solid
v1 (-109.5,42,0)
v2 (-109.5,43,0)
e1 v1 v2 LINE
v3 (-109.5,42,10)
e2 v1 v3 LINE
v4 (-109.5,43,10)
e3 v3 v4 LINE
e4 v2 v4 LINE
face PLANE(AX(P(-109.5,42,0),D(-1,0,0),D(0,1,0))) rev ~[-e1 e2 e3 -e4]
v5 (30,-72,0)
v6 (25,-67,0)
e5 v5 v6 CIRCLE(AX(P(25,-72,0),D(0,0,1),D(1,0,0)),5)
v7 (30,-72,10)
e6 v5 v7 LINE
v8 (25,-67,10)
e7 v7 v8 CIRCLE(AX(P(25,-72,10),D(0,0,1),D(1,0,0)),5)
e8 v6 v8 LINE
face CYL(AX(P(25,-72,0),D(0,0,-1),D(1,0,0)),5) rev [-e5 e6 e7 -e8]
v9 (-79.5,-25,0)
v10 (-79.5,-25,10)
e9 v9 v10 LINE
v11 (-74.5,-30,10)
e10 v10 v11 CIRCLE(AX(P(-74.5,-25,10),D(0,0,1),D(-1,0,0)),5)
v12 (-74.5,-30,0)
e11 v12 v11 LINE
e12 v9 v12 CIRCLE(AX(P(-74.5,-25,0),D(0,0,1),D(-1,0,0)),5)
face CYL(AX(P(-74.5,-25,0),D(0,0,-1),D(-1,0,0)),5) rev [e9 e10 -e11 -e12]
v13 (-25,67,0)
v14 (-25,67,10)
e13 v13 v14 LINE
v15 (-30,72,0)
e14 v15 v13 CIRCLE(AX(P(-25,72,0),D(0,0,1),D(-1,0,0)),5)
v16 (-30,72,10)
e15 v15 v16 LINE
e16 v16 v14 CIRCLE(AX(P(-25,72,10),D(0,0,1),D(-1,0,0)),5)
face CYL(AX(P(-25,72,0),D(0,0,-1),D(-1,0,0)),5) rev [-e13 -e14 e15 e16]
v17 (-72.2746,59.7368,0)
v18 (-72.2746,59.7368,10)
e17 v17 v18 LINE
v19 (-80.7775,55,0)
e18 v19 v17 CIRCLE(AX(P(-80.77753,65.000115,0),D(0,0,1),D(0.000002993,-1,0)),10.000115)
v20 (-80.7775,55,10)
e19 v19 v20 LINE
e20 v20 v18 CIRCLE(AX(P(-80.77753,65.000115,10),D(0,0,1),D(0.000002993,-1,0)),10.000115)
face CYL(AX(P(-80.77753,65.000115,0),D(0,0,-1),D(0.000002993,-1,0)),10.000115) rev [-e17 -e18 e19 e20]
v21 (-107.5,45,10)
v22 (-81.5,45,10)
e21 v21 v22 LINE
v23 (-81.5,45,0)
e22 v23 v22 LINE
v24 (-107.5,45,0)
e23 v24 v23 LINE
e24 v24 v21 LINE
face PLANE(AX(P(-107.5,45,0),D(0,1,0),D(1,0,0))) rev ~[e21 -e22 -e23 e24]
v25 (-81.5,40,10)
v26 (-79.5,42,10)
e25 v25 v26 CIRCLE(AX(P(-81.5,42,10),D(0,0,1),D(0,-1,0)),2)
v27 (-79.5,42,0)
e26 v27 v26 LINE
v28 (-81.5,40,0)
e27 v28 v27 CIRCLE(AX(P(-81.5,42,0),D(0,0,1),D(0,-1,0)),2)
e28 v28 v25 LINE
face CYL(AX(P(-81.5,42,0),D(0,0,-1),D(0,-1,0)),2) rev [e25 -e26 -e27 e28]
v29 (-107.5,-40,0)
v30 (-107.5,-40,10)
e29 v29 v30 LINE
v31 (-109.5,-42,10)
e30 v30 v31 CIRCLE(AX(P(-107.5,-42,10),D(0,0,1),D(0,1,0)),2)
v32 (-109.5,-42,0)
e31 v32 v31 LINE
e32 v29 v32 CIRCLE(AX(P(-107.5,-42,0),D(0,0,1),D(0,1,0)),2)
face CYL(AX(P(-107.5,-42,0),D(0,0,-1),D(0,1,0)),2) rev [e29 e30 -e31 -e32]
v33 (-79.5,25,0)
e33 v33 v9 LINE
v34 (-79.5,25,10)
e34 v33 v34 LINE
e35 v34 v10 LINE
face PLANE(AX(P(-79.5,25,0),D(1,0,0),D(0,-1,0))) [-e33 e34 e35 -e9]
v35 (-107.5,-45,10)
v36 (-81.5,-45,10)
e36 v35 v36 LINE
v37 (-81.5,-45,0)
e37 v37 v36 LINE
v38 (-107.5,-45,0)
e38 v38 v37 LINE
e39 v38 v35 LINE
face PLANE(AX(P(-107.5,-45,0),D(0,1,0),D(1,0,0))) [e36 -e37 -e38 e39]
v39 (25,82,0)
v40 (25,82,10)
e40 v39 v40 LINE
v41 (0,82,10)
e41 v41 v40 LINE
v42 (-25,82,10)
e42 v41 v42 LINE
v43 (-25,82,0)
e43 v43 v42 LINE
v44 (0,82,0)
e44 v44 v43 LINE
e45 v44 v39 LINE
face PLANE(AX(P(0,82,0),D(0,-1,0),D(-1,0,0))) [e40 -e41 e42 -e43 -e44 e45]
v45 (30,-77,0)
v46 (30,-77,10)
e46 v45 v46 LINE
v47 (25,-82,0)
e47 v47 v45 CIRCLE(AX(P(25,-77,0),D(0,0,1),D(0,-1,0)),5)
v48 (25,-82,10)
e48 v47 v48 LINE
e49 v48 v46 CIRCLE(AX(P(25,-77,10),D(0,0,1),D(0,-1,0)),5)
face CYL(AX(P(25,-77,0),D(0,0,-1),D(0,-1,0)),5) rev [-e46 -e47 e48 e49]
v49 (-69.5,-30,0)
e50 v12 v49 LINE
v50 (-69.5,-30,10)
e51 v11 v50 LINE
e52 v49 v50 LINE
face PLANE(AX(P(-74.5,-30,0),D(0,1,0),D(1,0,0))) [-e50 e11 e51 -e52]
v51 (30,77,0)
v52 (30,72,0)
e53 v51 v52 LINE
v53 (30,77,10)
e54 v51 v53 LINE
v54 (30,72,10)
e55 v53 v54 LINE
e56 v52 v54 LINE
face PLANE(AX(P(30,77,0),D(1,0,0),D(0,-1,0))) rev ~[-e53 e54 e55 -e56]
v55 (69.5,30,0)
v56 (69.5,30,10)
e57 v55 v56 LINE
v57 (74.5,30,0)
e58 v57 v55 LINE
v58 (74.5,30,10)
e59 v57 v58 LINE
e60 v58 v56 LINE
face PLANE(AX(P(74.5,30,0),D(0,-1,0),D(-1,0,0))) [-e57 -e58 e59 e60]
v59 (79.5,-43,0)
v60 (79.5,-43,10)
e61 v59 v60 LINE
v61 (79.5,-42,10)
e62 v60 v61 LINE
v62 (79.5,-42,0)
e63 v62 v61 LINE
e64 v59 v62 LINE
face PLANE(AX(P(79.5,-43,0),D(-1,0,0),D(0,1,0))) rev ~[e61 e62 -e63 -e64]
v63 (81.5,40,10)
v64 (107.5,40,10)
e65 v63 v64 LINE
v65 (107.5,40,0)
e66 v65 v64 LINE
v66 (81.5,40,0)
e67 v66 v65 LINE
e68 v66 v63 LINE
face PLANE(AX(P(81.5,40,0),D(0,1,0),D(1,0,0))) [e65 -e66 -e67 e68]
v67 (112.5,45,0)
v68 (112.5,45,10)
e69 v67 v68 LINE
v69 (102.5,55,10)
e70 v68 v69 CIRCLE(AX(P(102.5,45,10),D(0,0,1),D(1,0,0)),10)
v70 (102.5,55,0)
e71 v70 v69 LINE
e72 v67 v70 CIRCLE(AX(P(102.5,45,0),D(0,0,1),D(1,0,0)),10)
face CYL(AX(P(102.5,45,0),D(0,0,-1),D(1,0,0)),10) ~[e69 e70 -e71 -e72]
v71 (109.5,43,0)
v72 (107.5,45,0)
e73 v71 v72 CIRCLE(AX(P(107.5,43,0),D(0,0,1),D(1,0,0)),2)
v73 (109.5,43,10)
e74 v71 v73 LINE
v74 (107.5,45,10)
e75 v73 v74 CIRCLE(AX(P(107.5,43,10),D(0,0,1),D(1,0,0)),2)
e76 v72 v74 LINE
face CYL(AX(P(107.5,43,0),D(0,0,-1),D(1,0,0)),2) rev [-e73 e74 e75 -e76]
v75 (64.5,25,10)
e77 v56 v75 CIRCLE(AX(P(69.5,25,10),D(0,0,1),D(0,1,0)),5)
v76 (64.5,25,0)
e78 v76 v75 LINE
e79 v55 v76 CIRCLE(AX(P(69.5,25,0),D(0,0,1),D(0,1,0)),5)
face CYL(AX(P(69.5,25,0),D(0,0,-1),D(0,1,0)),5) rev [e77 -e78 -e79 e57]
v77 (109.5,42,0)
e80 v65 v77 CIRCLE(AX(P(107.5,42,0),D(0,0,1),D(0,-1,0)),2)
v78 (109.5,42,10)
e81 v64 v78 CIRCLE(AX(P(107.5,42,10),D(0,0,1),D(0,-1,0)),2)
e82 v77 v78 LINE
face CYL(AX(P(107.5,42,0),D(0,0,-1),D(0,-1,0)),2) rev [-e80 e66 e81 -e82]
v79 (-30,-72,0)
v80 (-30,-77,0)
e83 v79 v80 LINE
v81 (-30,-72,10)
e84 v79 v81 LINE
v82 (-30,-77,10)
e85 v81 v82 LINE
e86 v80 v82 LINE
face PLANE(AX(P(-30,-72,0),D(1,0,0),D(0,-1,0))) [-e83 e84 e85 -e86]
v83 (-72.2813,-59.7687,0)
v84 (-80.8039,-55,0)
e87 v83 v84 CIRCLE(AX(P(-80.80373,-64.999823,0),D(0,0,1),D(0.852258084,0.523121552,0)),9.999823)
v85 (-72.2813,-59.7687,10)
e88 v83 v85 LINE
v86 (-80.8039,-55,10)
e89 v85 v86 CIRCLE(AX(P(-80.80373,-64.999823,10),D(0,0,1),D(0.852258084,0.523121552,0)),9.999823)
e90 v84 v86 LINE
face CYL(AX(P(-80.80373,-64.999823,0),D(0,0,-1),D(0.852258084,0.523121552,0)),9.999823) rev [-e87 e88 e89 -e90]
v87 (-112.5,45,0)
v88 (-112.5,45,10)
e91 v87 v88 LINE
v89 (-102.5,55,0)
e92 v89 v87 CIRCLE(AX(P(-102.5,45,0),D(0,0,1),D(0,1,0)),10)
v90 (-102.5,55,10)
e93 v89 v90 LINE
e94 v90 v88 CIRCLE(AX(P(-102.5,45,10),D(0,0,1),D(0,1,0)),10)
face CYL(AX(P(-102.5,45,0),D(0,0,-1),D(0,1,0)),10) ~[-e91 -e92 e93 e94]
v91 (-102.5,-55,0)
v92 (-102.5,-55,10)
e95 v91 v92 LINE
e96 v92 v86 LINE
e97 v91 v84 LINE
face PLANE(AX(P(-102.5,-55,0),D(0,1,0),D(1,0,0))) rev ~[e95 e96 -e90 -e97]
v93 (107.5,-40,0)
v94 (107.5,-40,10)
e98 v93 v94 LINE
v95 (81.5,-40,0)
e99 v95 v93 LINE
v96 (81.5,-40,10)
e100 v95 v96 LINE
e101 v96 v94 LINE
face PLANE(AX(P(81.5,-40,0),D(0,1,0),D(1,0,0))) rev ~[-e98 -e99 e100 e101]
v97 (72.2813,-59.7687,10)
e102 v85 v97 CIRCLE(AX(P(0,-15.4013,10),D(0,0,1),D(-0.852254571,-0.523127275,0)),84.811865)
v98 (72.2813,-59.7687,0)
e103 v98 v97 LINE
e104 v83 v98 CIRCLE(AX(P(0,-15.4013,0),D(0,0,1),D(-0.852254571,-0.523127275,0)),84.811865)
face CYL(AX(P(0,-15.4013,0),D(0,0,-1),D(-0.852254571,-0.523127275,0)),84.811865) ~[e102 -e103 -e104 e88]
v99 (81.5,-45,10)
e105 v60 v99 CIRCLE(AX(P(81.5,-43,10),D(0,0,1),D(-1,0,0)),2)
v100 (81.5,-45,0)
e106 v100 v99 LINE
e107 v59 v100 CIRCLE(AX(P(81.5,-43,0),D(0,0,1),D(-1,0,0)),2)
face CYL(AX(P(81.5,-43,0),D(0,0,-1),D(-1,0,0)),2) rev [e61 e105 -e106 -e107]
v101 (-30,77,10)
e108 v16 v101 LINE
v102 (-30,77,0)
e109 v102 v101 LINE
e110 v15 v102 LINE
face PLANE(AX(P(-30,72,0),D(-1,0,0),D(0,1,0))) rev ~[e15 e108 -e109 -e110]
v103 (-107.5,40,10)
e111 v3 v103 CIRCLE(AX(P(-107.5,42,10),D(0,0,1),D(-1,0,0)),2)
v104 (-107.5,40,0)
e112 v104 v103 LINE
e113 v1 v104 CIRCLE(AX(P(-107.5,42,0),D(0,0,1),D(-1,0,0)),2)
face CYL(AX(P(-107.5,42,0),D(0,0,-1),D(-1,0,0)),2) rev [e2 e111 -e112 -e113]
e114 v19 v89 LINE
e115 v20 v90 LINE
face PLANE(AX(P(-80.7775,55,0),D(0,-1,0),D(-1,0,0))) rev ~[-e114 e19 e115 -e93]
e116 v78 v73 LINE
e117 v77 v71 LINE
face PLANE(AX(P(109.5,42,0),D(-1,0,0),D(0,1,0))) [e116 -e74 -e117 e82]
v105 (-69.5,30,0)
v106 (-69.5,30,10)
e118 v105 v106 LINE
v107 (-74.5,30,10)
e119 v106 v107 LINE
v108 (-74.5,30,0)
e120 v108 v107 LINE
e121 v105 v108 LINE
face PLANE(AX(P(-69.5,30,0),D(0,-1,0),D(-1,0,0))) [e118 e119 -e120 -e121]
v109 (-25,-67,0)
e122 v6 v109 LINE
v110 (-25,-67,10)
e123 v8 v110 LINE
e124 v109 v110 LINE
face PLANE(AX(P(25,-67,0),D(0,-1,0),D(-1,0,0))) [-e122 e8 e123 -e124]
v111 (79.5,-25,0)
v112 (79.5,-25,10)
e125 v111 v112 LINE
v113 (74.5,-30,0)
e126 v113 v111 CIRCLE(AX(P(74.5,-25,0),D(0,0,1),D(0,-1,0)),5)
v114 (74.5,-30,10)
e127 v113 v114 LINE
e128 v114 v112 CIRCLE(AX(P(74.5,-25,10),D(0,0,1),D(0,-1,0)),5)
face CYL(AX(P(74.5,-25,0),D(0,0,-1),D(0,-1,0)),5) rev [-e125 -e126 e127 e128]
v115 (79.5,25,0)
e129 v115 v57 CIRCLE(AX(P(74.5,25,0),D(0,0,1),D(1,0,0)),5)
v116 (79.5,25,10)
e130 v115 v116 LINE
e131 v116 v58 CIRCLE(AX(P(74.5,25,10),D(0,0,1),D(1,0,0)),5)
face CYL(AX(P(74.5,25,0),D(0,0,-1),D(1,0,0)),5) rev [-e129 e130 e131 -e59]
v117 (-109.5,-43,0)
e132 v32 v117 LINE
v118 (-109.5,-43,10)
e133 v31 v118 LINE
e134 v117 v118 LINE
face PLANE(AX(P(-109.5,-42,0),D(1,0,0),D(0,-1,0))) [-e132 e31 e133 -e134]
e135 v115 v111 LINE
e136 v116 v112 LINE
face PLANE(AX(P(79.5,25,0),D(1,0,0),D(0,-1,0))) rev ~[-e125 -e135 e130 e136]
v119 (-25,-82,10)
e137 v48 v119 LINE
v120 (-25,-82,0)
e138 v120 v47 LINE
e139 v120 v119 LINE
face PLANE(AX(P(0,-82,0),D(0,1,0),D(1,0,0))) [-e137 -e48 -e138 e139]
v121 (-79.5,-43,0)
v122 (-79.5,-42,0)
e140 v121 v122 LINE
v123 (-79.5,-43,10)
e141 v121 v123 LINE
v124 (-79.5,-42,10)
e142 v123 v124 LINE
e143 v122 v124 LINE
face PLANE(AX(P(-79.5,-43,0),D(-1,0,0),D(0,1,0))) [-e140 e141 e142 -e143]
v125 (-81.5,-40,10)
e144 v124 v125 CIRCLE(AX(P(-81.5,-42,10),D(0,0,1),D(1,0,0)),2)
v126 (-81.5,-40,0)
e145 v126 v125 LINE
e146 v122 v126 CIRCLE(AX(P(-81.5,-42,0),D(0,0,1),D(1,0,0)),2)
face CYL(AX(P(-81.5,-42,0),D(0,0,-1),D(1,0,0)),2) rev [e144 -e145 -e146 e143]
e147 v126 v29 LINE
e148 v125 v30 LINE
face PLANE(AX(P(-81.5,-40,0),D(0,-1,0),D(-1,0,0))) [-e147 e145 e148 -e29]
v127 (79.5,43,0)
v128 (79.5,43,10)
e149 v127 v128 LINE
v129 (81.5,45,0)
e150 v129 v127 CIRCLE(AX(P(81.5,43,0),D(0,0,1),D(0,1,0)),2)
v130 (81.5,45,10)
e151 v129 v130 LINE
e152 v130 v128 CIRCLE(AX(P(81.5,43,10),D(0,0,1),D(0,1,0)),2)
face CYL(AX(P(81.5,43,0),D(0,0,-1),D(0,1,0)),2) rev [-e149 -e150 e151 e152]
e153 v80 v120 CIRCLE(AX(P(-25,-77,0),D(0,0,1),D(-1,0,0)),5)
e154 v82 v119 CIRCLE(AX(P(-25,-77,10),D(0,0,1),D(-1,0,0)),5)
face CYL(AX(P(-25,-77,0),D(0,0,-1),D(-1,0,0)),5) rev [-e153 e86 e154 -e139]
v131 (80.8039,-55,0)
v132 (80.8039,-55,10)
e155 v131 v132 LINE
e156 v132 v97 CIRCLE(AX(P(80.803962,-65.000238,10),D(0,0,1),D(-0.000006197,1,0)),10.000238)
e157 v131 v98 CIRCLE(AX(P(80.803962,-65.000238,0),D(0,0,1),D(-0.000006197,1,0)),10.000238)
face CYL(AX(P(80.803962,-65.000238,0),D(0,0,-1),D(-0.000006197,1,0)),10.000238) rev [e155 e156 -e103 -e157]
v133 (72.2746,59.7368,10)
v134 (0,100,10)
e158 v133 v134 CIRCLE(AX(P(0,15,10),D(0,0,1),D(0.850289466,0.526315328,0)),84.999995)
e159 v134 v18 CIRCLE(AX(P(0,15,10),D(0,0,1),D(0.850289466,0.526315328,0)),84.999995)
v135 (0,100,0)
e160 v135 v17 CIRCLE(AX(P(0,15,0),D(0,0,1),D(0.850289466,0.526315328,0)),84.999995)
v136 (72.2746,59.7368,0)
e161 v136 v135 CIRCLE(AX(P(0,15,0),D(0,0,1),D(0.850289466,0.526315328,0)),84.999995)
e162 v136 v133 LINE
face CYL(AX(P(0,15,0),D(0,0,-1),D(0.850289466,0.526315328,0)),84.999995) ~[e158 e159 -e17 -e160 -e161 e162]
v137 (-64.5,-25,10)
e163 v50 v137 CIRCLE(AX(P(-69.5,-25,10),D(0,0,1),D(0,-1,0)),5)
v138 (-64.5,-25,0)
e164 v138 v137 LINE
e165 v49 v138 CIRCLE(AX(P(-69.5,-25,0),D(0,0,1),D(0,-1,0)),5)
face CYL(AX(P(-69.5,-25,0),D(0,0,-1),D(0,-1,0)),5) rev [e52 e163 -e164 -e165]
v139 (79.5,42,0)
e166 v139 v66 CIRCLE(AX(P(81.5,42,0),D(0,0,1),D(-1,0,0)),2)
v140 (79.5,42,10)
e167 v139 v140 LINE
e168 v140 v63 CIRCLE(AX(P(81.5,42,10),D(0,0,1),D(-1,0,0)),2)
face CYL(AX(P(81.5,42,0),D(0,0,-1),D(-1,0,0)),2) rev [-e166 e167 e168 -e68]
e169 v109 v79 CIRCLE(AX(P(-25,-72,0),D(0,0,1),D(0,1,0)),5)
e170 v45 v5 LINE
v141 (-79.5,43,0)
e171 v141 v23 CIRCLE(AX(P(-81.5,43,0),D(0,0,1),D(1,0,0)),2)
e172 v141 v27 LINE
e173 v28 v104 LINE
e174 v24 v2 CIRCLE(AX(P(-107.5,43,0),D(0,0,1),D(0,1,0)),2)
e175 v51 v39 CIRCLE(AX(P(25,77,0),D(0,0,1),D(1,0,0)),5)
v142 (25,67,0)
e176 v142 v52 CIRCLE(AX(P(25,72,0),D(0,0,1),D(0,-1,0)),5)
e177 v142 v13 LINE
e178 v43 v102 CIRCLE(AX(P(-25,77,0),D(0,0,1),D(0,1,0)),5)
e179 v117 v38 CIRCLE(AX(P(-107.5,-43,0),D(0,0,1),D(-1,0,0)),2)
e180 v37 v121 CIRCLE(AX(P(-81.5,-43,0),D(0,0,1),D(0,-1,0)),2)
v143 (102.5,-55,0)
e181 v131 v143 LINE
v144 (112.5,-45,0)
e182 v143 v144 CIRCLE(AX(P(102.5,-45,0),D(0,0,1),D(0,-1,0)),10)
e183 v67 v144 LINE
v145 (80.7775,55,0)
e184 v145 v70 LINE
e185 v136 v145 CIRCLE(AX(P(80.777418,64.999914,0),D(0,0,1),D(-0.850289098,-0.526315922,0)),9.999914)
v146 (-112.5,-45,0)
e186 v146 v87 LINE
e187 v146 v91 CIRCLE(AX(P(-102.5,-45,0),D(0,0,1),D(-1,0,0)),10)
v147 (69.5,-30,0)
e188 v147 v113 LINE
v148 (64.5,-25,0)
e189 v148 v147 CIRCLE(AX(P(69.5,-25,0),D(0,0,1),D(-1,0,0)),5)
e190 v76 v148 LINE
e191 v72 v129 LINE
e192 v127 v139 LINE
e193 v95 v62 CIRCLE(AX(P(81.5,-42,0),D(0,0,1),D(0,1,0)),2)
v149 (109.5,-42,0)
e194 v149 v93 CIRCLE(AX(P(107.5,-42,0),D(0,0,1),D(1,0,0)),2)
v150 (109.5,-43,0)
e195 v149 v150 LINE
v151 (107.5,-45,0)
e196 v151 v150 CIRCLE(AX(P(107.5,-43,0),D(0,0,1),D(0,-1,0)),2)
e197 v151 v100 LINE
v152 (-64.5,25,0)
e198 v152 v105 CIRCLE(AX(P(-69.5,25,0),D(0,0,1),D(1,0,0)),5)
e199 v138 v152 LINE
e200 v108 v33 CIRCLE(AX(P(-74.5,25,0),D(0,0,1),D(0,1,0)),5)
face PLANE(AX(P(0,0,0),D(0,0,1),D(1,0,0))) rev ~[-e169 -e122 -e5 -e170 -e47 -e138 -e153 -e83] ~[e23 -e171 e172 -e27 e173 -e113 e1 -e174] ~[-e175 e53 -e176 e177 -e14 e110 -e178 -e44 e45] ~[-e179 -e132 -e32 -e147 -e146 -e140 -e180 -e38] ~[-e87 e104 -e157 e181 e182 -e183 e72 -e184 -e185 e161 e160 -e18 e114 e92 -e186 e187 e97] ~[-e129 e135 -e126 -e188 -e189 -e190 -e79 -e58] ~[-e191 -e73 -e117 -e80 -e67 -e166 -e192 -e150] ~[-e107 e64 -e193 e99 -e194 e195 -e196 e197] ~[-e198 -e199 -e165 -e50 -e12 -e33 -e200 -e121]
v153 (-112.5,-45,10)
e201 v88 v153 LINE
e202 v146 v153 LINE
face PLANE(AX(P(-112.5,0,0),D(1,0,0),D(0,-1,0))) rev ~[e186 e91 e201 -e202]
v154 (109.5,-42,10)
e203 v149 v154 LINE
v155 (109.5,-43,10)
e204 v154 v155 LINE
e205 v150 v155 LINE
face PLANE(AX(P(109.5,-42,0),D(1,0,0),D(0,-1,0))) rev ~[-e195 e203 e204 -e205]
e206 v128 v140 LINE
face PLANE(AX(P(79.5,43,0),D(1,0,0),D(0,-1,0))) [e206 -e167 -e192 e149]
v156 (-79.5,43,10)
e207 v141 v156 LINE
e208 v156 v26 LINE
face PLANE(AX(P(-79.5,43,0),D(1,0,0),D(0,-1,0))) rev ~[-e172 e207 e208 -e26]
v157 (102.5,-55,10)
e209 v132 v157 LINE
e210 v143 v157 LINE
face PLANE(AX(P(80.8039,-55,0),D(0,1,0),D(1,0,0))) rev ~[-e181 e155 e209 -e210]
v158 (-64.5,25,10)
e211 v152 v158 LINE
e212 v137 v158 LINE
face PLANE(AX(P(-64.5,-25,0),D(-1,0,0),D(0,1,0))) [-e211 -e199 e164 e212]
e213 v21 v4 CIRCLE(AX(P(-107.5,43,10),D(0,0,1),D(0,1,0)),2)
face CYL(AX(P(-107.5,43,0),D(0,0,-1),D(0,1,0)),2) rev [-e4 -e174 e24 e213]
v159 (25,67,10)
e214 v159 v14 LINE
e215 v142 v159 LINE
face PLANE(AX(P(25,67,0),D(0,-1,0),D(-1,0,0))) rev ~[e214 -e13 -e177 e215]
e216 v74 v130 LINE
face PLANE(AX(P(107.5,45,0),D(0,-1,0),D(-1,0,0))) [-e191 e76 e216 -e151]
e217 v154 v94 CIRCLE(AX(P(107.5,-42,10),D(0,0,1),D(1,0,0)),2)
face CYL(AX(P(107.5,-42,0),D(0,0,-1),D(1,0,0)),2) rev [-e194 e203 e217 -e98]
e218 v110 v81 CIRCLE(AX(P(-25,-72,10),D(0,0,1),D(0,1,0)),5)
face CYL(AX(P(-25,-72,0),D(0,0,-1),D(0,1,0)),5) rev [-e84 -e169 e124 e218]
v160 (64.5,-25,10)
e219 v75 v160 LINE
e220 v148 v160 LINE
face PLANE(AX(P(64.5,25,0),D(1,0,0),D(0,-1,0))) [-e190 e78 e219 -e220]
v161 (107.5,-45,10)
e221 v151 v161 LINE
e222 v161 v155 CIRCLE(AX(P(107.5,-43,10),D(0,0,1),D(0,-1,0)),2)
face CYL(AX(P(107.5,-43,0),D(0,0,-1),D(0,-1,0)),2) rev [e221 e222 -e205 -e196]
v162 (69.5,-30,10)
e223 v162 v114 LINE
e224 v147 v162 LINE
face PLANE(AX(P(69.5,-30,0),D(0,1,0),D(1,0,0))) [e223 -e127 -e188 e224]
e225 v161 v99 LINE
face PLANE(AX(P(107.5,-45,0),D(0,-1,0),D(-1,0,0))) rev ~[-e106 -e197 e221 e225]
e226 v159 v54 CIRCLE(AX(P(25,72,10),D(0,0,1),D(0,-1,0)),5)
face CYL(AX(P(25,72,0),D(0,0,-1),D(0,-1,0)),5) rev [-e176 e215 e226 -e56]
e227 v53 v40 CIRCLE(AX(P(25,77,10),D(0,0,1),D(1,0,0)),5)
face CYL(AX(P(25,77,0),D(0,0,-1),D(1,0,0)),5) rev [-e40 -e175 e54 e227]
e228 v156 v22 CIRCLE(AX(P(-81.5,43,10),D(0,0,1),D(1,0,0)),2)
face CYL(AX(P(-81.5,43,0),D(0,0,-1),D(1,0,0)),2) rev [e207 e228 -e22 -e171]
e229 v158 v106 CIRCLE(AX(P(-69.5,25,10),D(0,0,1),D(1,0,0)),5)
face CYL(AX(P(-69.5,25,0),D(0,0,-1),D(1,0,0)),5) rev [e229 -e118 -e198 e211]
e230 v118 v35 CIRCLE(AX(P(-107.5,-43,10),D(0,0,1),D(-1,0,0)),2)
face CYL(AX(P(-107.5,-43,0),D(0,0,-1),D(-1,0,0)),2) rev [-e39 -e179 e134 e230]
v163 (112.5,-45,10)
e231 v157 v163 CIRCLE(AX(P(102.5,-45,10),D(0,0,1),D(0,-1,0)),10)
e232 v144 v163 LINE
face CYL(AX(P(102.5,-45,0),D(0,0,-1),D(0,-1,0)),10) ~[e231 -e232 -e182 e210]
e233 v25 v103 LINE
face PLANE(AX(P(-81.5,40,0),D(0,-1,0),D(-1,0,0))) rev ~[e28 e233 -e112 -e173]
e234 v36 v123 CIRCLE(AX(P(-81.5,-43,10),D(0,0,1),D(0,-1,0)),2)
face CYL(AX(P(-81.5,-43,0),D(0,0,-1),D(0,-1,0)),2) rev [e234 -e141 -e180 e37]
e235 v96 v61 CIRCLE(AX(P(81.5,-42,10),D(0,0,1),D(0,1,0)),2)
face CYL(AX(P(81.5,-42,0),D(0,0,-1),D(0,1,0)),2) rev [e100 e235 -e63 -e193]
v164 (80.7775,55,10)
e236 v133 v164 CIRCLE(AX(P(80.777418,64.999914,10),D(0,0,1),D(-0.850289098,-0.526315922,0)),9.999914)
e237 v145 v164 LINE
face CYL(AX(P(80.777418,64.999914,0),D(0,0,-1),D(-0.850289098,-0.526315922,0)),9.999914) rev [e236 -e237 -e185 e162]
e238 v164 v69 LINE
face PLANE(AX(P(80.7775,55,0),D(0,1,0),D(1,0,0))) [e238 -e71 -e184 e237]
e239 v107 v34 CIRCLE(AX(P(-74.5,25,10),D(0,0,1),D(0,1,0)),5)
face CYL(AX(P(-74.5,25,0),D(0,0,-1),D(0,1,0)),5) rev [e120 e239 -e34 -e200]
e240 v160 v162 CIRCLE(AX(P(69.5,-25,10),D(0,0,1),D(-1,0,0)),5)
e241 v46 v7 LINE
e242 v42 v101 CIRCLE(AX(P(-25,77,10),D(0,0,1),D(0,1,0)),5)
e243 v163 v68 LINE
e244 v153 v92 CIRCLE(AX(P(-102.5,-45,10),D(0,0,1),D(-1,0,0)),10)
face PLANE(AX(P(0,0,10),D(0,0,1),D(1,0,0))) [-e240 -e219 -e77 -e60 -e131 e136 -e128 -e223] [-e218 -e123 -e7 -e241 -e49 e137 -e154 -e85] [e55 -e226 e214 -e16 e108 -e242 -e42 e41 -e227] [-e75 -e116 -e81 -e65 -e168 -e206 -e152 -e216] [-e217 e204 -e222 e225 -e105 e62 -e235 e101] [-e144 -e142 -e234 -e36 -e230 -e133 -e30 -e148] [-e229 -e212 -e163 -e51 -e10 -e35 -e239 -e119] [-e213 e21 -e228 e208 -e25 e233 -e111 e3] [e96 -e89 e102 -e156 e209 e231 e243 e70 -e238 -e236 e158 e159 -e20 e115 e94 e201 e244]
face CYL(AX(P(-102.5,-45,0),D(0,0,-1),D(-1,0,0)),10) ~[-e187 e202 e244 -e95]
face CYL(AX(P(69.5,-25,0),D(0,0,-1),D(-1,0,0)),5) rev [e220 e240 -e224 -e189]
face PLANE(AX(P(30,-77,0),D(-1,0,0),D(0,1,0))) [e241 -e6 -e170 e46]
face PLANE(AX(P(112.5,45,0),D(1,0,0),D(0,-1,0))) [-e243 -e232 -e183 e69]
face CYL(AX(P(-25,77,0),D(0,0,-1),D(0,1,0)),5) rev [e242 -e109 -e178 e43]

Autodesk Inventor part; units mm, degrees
ref_plane "YZ Plane" through (0, 0, 0) normal (1, 0, 0) x (0, 1, 0)
ref_plane "XZ Plane" through (0, 0, 0) normal (0, 1, 0) x (-1, 0, 0)
ref_plane "XY Plane" through (0, 0, 0) normal (0, 0, 1) x (1, 0, 0)
sketch "Sketch1" plane through (0, 0, 0) normal (0, 0, 1) x (1, 0, 0)
  line L0 (0, 0) -> (-112.5, 0) construction
  line L1 (-112.5, 0) -> (112.5, 0) construction
  line L2 (0, 0) -> (0, 100) construction
  line L3 (0, 100) -> (0, -100) construction
  line L4 (0, 0) -> (-75, 0) construction
  line L5 (-75, 0) -> (-75, -55) construction
  line L6 (0, 0) -> (75, 0) construction
  line L7 (75, 0) -> (75, -55) construction
  arc A0 (-72.2813, -59.7687) -> (72.2813, -59.7687) centre (0, -15.4013) ccw
  line L8 (-112.5, 0) -> (-112.5, -45)
  line L9 (-102.5, -55) -> (-80.8039, -55)
  line L10 (80.8039, -55) -> (102.5, -55)
  line L11 (112.5, -45) -> (112.5, 0)
  line L12 (-75, 0) -> (-75, 55) construction
  line L13 (75, 0) -> (75, 55) construction
  arc A1 (72.2746, 59.7368) -> (-72.2746, 59.7368) centre (0, 15) ccw
  line L14 (-80.7775, 55) -> (-102.5, 55)
  line L15 (-112.5, 45) -> (-112.5, 0)
  line L16 (80.7775, 55) -> (102.5, 55)
  line L17 (112.5, 45) -> (112.5, 0)
  arc A2 (-102.5, 55) -> (-112.5, 45) centre (-102.5, 45) ccw
  arc A3 (-80.7775, 55) -> (-72.2746, 59.7368) centre (-80.7775, 65) ccw
  arc A4 (72.2746, 59.7368) -> (80.7775, 55) centre (80.7775, 65) ccw
  arc A5 (112.5, 45) -> (102.5, 55) centre (102.5, 45) ccw
  arc A6 (102.5, -55) -> (112.5, -45) centre (102.5, -45) ccw
  arc A7 (80.8039, -55) -> (72.2813, -59.7687) centre (80.8039, -65) ccw
  arc A8 (-72.2813, -59.7687) -> (-80.8039, -55) centre (-80.8039, -65) ccw
  arc A9 (-112.5, -45) -> (-102.5, -55) centre (-102.5, -45) ccw
  line L18 (-72.2746, 59.7368) -> (-61.9878, 53.5577) construction
  line L19 (-61.9878, 53.5577) -> (-58.8982, 58.7011)
  line L20 (-58.8982, 58.7011) -> (-33.1812, 43.2534)
  line L21 (-33.1812, 43.2534) -> (-36.2707, 38.11)
  line L22 (-36.2707, 38.11) -> (-61.9878, 53.5577)
  line L23 (-58.8982, 58.7011) -> (-56.8385, 62.1301)
  line L24 (-56.8385, 62.1301) -> (-31.1215, 46.6823)
  line L25 (-31.1215, 46.6823) -> (-28.0319, 51.8257)
  line L26 (-28.0319, 51.8257) -> (-53.749, 67.2735)
  line L27 (-53.749, 67.2735) -> (-56.8385, 62.1301)
  line L28 (75.9108, 56.2641) -> (66.1713, 49.254) construction
  line L29 (66.1713, 49.254) -> (62.6662, 54.1238) construction
  line L30 (62.6662, 54.1238) -> (38.3174, 36.5986) construction
  line L31 (38.3174, 36.5986) -> (41.8224, 31.7289) construction
  line L32 (41.8224, 31.7289) -> (66.1713, 49.254) construction
  line L33 (62.6662, 54.1238) -> (56.8245, 62.2401) construction
  line L34 (56.8245, 62.2401) -> (60.3296, 57.3703) construction
  line L35 (60.3296, 57.3703) -> (35.9829, 39.842) construction
  line L36 (35.9829, 39.842) -> (32.4779, 44.7118) construction
  line L37 (32.4779, 44.7118) -> (56.8245, 62.2401) construction
  line L38 (-75, -55) -> (-66.4238, -46.6067) construction
  line L39 (-66.4238, -46.6067) -> (-55.2326, -58.0416) construction
  line L40 (-55.2326, -58.0416) -> (-59.4293, -53.7535) construction
  line L41 (-59.4293, -53.7535) -> (-37.9887, -32.7702) construction
  line L42 (-37.9887, -32.7702) -> (-33.792, -37.0583) construction
  line L43 (-55.2326, -58.0416) -> (-33.792, -37.0583) construction
  line L44 (-66.4238, -46.6067) -> (-62.2271, -50.8948) construction
  line L45 (-62.2271, -50.8948) -> (-40.7865, -29.9114) construction
  line L46 (-40.7865, -29.9114) -> (-44.9832, -25.6233) construction
  line L47 (-44.9832, -25.6233) -> (-66.4238, -46.6067) construction
  line L48 (66.1713, -50.8948) -> (57.2172, -64.1547) construction
  line L49 (57.2172, -64.1547) -> (60.3546, -59.0403) construction
  line L50 (60.3546, -59.0403) -> (34.7828, -43.3533) construction
  line L51 (34.7828, -43.3533) -> (31.6454, -48.4676) construction
  line L52 (57.2172, -64.1547) -> (31.6454, -48.4676) construction
  line L53 (66.1713, -50.8948) -> (62.8135, -55.8672) construction
  line L54 (62.8135, -55.8672) -> (37.2417, -40.1802) construction
  line L55 (37.2417, -40.1802) -> (40.3791, -35.0658) construction
  line L56 (0, 100) -> (0, 82)
  line L57 (0, 82) -> (-25, 82)
  line L58 (-30, 82) -> (25, 82)
  line L59 (30, 77) -> (30, 72)
  line L60 (25, 67) -> (-25, 67)
  line L61 (-30, 72) -> (-30, 77)
  arc A10 (-25, 82) -> (-30, 77) centre (-25, 77) ccw
  arc A11 (-30, 72) -> (-25, 67) centre (-25, 72) ccw
  arc A12 (25, 67) -> (30, 72) centre (25, 72) ccw
  arc A13 (30, 77) -> (25, 82) centre (25, 77) ccw
  line L62 (0, -100) -> (0, -82) construction
  line L63 (0, -82) -> (-25, -82)
  line L64 (-30, -82) -> (25, -82)
  line L65 (30, -77) -> (30, -72)
  line L66 (25, -67) -> (-25, -67)
  line L67 (-30, -72) -> (-30, -77)
  arc A14 (-25, -67) -> (-30, -72) centre (-25, -72) ccw
  arc A15 (-30, -77) -> (-25, -82) centre (-25, -77) ccw
  arc A16 (25, -82) -> (30, -77) centre (25, -77) ccw
  arc A17 (30, -72) -> (25, -67) centre (25, -72) ccw
  line L68 (66.1713, -50.8948) -> (40.3791, -35.0658) construction
  line L69 (102.5, 55) -> (102.5, 45) construction
  line L70 (112.5, 45) -> (109.5, 45) construction
  line L71 (107.5, 45) -> (81.5, 45)
  line L72 (79.5, 43) -> (79.5, 42)
  line L73 (81.5, 40) -> (107.5, 40)
  line L74 (109.5, 42) -> (109.5, 43)
  arc A18 (81.5, 45) -> (79.5, 43) centre (81.5, 43) ccw
  arc A19 (79.5, 42) -> (81.5, 40) centre (81.5, 42) ccw
  arc A20 (107.5, 40) -> (109.5, 42) centre (107.5, 42) ccw
  arc A21 (109.5, 43) -> (107.5, 45) centre (107.5, 43) ccw
  line L75 (102.5, -45) -> (102.5, -55) construction
  line L76 (112.5, -45) -> (109.5, -45) construction
  line L77 (107.5, -45) -> (81.5, -45)
  line L78 (79.5, -43) -> (79.5, -42)
  line L79 (81.5, -40) -> (107.5, -40)
  line L80 (109.5, -42) -> (109.5, -43)
  arc A22 (79.5, -43) -> (81.5, -45) centre (81.5, -43) ccw
  arc A23 (81.5, -40) -> (79.5, -42) centre (81.5, -42) ccw
  arc A24 (107.5, -45) -> (109.5, -43) centre (107.5, -43) ccw
  arc A25 (109.5, -42) -> (107.5, -40) centre (107.5, -42) ccw
  line L81 (79.5, -40) -> (79.5, -30) construction
  line L82 (79.5, 40) -> (79.5, 30) construction
  line L83 (74.5, 30) -> (69.5, 30)
  line L84 (64.5, 25) -> (64.5, -25)
  line L85 (69.5, -30) -> (74.5, -30)
  line L86 (79.5, 25) -> (79.5, -25)
  arc A26 (69.5, 30) -> (64.5, 25) centre (69.5, 25) ccw
  arc A27 (64.5, -25) -> (69.5, -30) centre (69.5, -25) ccw
  arc A28 (74.5, -30) -> (79.5, -25) centre (74.5, -25) ccw
  arc A29 (79.5, 25) -> (74.5, 30) centre (74.5, 25) ccw
  line L87 (-102.5, -55) -> (-102.5, -45) construction
  line L88 (-112.5, -45) -> (-109.5, -45) construction
  line L89 (-107.5, -45) -> (-81.5, -45)
  line L90 (-79.5, -43) -> (-79.5, -42)
  line L91 (-81.5, -40) -> (-107.5, -40)
  line L92 (-109.5, -42) -> (-109.5, -43)
  arc A30 (-107.5, -40) -> (-109.5, -42) centre (-107.5, -42) ccw
  arc A31 (-109.5, -43) -> (-107.5, -45) centre (-107.5, -43) ccw
  arc A32 (-81.5, -45) -> (-79.5, -43) centre (-81.5, -43) ccw
  arc A33 (-79.5, -42) -> (-81.5, -40) centre (-81.5, -42) ccw
  line L93 (-102.5, 55) -> (-102.5, 45) construction
  line L94 (-112.5, 45) -> (-109.5, 45) construction
  line L95 (-107.5, 45) -> (-81.5, 45)
  line L96 (-79.5, 43) -> (-79.5, 42)
  line L97 (-81.5, 40) -> (-107.5, 40)
  line L98 (-109.5, 42) -> (-109.5, 43)
  arc A34 (-107.5, 45) -> (-109.5, 43) centre (-107.5, 43) ccw
  arc A35 (-109.5, 42) -> (-107.5, 40) centre (-107.5, 42) ccw
  arc A36 (-81.5, 40) -> (-79.5, 42) centre (-81.5, 42) ccw
  arc A37 (-79.5, 43) -> (-81.5, 45) centre (-81.5, 43) ccw
  line L99 (-79.5, 40) -> (-79.5, 30) construction
  line L100 (-79.5, 25) -> (-79.5, -25) construction
  line L101 (-79.5, -40) -> (-79.5, -30) construction
  line L102 (-74.5, -30) -> (-69.5, -30)
  line L103 (-64.5, -25) -> (-64.5, 25)
  line L104 (-69.5, 30) -> (-74.5, 30)
  line L105 (-79.5, 30) -> (-79.5, -30)
  arc A38 (-74.5, 30) -> (-79.5, 25) centre (-74.5, 25) ccw
  arc A39 (-64.5, 25) -> (-69.5, 30) centre (-69.5, 25) ccw
  arc A40 (-69.5, -30) -> (-64.5, -25) centre (-69.5, -25) ccw
  arc A41 (-79.5, -25) -> (-74.5, -30) centre (-74.5, -25) ccw
  point P0 (112.5, -55)
  point P1 (30, 82)
  point P2 (30, 67)
  point P3 (30, -82)
  point P4 (30, -67)
  point P5 (79.5, 45)
  point P6 (79.5, -45)
  point P7 (64.5, 30)
  point P8 (-79.5, -45)
  point P9 (-79.5, 45)
  point P10 (-64.5, -30)
  dimension "d0" = 112.5
  dimension "d1" = 225
  dimension "d2" = 100
  dimension "d3" = 200
  dimension "d4" = 75
  dimension "d5" = 55
  dimension "d6" = 75
  dimension "d7" = 55
  dimension "d8" = 55
  dimension "d9" = 10
  dimension "d10" = 12
  dimension "d11" = 6
  dimension "d12" = 30
  dimension "d13" = 4
  dimension "d14" = 6
  dimension "d15" = 12
  dimension "d16" = 6
  dimension "d17" = 30
  dimension "d18" = 10
  dimension "d19" = 6
  dimension "d20" = 30
  dimension "d21" = 6
  dimension "d22" = 12
  dimension "d23" = 16
  dimension "d24" = 6
  dimension "d25" = 30
  dimension "d26" = 6
  dimension "d27" = 16
  dimension "d28" = 6
  dimension "d29" = 30
  dimension "d30" = 6
  dimension "d31" = 30
  dimension "d32" = 6
  dimension "d33" = 18
  dimension "d34" = 30
  dimension "d35" = 60
  dimension "d36" = 15
  dimension "d37" = 5
  dimension "d38" = 18
  dimension "d39" = 30
  dimension "d40" = 60
  dimension "d41" = 15
  dimension "d42" = 5
  dimension "d43" = 3
  dimension "d44" = 30
  dimension "d45" = 5
  dimension "d46" = 2
  dimension "d47" = 2
  dimension "d48" = 30
  dimension "d49" = 5
  dimension "d50" = 2
  dimension "d51" = 10
  dimension "d52" = 10
  dimension "d53" = 15
  dimension "d54" = 5
  dimension "d55" = 3
  dimension "d56" = 30
  dimension "d57" = 2
  dimension "d58" = 3
  dimension "d59" = 30
  dimension "d60" = 5
  dimension "d61" = 2
  dimension "d62" = 10
  dimension "d63" = 70
extrude "Extrusion1" add sketch "Sketch1" along normal blind 10 contours A8 L9 A9 L8 L15 A2 L14 A3 A1 A4 L16 A5 L17 L11 A6 L10 A7 A0 | L27 L26 L25 L24 | L19 L20 L21 L22
properties part number "dudukansayapdrone"
